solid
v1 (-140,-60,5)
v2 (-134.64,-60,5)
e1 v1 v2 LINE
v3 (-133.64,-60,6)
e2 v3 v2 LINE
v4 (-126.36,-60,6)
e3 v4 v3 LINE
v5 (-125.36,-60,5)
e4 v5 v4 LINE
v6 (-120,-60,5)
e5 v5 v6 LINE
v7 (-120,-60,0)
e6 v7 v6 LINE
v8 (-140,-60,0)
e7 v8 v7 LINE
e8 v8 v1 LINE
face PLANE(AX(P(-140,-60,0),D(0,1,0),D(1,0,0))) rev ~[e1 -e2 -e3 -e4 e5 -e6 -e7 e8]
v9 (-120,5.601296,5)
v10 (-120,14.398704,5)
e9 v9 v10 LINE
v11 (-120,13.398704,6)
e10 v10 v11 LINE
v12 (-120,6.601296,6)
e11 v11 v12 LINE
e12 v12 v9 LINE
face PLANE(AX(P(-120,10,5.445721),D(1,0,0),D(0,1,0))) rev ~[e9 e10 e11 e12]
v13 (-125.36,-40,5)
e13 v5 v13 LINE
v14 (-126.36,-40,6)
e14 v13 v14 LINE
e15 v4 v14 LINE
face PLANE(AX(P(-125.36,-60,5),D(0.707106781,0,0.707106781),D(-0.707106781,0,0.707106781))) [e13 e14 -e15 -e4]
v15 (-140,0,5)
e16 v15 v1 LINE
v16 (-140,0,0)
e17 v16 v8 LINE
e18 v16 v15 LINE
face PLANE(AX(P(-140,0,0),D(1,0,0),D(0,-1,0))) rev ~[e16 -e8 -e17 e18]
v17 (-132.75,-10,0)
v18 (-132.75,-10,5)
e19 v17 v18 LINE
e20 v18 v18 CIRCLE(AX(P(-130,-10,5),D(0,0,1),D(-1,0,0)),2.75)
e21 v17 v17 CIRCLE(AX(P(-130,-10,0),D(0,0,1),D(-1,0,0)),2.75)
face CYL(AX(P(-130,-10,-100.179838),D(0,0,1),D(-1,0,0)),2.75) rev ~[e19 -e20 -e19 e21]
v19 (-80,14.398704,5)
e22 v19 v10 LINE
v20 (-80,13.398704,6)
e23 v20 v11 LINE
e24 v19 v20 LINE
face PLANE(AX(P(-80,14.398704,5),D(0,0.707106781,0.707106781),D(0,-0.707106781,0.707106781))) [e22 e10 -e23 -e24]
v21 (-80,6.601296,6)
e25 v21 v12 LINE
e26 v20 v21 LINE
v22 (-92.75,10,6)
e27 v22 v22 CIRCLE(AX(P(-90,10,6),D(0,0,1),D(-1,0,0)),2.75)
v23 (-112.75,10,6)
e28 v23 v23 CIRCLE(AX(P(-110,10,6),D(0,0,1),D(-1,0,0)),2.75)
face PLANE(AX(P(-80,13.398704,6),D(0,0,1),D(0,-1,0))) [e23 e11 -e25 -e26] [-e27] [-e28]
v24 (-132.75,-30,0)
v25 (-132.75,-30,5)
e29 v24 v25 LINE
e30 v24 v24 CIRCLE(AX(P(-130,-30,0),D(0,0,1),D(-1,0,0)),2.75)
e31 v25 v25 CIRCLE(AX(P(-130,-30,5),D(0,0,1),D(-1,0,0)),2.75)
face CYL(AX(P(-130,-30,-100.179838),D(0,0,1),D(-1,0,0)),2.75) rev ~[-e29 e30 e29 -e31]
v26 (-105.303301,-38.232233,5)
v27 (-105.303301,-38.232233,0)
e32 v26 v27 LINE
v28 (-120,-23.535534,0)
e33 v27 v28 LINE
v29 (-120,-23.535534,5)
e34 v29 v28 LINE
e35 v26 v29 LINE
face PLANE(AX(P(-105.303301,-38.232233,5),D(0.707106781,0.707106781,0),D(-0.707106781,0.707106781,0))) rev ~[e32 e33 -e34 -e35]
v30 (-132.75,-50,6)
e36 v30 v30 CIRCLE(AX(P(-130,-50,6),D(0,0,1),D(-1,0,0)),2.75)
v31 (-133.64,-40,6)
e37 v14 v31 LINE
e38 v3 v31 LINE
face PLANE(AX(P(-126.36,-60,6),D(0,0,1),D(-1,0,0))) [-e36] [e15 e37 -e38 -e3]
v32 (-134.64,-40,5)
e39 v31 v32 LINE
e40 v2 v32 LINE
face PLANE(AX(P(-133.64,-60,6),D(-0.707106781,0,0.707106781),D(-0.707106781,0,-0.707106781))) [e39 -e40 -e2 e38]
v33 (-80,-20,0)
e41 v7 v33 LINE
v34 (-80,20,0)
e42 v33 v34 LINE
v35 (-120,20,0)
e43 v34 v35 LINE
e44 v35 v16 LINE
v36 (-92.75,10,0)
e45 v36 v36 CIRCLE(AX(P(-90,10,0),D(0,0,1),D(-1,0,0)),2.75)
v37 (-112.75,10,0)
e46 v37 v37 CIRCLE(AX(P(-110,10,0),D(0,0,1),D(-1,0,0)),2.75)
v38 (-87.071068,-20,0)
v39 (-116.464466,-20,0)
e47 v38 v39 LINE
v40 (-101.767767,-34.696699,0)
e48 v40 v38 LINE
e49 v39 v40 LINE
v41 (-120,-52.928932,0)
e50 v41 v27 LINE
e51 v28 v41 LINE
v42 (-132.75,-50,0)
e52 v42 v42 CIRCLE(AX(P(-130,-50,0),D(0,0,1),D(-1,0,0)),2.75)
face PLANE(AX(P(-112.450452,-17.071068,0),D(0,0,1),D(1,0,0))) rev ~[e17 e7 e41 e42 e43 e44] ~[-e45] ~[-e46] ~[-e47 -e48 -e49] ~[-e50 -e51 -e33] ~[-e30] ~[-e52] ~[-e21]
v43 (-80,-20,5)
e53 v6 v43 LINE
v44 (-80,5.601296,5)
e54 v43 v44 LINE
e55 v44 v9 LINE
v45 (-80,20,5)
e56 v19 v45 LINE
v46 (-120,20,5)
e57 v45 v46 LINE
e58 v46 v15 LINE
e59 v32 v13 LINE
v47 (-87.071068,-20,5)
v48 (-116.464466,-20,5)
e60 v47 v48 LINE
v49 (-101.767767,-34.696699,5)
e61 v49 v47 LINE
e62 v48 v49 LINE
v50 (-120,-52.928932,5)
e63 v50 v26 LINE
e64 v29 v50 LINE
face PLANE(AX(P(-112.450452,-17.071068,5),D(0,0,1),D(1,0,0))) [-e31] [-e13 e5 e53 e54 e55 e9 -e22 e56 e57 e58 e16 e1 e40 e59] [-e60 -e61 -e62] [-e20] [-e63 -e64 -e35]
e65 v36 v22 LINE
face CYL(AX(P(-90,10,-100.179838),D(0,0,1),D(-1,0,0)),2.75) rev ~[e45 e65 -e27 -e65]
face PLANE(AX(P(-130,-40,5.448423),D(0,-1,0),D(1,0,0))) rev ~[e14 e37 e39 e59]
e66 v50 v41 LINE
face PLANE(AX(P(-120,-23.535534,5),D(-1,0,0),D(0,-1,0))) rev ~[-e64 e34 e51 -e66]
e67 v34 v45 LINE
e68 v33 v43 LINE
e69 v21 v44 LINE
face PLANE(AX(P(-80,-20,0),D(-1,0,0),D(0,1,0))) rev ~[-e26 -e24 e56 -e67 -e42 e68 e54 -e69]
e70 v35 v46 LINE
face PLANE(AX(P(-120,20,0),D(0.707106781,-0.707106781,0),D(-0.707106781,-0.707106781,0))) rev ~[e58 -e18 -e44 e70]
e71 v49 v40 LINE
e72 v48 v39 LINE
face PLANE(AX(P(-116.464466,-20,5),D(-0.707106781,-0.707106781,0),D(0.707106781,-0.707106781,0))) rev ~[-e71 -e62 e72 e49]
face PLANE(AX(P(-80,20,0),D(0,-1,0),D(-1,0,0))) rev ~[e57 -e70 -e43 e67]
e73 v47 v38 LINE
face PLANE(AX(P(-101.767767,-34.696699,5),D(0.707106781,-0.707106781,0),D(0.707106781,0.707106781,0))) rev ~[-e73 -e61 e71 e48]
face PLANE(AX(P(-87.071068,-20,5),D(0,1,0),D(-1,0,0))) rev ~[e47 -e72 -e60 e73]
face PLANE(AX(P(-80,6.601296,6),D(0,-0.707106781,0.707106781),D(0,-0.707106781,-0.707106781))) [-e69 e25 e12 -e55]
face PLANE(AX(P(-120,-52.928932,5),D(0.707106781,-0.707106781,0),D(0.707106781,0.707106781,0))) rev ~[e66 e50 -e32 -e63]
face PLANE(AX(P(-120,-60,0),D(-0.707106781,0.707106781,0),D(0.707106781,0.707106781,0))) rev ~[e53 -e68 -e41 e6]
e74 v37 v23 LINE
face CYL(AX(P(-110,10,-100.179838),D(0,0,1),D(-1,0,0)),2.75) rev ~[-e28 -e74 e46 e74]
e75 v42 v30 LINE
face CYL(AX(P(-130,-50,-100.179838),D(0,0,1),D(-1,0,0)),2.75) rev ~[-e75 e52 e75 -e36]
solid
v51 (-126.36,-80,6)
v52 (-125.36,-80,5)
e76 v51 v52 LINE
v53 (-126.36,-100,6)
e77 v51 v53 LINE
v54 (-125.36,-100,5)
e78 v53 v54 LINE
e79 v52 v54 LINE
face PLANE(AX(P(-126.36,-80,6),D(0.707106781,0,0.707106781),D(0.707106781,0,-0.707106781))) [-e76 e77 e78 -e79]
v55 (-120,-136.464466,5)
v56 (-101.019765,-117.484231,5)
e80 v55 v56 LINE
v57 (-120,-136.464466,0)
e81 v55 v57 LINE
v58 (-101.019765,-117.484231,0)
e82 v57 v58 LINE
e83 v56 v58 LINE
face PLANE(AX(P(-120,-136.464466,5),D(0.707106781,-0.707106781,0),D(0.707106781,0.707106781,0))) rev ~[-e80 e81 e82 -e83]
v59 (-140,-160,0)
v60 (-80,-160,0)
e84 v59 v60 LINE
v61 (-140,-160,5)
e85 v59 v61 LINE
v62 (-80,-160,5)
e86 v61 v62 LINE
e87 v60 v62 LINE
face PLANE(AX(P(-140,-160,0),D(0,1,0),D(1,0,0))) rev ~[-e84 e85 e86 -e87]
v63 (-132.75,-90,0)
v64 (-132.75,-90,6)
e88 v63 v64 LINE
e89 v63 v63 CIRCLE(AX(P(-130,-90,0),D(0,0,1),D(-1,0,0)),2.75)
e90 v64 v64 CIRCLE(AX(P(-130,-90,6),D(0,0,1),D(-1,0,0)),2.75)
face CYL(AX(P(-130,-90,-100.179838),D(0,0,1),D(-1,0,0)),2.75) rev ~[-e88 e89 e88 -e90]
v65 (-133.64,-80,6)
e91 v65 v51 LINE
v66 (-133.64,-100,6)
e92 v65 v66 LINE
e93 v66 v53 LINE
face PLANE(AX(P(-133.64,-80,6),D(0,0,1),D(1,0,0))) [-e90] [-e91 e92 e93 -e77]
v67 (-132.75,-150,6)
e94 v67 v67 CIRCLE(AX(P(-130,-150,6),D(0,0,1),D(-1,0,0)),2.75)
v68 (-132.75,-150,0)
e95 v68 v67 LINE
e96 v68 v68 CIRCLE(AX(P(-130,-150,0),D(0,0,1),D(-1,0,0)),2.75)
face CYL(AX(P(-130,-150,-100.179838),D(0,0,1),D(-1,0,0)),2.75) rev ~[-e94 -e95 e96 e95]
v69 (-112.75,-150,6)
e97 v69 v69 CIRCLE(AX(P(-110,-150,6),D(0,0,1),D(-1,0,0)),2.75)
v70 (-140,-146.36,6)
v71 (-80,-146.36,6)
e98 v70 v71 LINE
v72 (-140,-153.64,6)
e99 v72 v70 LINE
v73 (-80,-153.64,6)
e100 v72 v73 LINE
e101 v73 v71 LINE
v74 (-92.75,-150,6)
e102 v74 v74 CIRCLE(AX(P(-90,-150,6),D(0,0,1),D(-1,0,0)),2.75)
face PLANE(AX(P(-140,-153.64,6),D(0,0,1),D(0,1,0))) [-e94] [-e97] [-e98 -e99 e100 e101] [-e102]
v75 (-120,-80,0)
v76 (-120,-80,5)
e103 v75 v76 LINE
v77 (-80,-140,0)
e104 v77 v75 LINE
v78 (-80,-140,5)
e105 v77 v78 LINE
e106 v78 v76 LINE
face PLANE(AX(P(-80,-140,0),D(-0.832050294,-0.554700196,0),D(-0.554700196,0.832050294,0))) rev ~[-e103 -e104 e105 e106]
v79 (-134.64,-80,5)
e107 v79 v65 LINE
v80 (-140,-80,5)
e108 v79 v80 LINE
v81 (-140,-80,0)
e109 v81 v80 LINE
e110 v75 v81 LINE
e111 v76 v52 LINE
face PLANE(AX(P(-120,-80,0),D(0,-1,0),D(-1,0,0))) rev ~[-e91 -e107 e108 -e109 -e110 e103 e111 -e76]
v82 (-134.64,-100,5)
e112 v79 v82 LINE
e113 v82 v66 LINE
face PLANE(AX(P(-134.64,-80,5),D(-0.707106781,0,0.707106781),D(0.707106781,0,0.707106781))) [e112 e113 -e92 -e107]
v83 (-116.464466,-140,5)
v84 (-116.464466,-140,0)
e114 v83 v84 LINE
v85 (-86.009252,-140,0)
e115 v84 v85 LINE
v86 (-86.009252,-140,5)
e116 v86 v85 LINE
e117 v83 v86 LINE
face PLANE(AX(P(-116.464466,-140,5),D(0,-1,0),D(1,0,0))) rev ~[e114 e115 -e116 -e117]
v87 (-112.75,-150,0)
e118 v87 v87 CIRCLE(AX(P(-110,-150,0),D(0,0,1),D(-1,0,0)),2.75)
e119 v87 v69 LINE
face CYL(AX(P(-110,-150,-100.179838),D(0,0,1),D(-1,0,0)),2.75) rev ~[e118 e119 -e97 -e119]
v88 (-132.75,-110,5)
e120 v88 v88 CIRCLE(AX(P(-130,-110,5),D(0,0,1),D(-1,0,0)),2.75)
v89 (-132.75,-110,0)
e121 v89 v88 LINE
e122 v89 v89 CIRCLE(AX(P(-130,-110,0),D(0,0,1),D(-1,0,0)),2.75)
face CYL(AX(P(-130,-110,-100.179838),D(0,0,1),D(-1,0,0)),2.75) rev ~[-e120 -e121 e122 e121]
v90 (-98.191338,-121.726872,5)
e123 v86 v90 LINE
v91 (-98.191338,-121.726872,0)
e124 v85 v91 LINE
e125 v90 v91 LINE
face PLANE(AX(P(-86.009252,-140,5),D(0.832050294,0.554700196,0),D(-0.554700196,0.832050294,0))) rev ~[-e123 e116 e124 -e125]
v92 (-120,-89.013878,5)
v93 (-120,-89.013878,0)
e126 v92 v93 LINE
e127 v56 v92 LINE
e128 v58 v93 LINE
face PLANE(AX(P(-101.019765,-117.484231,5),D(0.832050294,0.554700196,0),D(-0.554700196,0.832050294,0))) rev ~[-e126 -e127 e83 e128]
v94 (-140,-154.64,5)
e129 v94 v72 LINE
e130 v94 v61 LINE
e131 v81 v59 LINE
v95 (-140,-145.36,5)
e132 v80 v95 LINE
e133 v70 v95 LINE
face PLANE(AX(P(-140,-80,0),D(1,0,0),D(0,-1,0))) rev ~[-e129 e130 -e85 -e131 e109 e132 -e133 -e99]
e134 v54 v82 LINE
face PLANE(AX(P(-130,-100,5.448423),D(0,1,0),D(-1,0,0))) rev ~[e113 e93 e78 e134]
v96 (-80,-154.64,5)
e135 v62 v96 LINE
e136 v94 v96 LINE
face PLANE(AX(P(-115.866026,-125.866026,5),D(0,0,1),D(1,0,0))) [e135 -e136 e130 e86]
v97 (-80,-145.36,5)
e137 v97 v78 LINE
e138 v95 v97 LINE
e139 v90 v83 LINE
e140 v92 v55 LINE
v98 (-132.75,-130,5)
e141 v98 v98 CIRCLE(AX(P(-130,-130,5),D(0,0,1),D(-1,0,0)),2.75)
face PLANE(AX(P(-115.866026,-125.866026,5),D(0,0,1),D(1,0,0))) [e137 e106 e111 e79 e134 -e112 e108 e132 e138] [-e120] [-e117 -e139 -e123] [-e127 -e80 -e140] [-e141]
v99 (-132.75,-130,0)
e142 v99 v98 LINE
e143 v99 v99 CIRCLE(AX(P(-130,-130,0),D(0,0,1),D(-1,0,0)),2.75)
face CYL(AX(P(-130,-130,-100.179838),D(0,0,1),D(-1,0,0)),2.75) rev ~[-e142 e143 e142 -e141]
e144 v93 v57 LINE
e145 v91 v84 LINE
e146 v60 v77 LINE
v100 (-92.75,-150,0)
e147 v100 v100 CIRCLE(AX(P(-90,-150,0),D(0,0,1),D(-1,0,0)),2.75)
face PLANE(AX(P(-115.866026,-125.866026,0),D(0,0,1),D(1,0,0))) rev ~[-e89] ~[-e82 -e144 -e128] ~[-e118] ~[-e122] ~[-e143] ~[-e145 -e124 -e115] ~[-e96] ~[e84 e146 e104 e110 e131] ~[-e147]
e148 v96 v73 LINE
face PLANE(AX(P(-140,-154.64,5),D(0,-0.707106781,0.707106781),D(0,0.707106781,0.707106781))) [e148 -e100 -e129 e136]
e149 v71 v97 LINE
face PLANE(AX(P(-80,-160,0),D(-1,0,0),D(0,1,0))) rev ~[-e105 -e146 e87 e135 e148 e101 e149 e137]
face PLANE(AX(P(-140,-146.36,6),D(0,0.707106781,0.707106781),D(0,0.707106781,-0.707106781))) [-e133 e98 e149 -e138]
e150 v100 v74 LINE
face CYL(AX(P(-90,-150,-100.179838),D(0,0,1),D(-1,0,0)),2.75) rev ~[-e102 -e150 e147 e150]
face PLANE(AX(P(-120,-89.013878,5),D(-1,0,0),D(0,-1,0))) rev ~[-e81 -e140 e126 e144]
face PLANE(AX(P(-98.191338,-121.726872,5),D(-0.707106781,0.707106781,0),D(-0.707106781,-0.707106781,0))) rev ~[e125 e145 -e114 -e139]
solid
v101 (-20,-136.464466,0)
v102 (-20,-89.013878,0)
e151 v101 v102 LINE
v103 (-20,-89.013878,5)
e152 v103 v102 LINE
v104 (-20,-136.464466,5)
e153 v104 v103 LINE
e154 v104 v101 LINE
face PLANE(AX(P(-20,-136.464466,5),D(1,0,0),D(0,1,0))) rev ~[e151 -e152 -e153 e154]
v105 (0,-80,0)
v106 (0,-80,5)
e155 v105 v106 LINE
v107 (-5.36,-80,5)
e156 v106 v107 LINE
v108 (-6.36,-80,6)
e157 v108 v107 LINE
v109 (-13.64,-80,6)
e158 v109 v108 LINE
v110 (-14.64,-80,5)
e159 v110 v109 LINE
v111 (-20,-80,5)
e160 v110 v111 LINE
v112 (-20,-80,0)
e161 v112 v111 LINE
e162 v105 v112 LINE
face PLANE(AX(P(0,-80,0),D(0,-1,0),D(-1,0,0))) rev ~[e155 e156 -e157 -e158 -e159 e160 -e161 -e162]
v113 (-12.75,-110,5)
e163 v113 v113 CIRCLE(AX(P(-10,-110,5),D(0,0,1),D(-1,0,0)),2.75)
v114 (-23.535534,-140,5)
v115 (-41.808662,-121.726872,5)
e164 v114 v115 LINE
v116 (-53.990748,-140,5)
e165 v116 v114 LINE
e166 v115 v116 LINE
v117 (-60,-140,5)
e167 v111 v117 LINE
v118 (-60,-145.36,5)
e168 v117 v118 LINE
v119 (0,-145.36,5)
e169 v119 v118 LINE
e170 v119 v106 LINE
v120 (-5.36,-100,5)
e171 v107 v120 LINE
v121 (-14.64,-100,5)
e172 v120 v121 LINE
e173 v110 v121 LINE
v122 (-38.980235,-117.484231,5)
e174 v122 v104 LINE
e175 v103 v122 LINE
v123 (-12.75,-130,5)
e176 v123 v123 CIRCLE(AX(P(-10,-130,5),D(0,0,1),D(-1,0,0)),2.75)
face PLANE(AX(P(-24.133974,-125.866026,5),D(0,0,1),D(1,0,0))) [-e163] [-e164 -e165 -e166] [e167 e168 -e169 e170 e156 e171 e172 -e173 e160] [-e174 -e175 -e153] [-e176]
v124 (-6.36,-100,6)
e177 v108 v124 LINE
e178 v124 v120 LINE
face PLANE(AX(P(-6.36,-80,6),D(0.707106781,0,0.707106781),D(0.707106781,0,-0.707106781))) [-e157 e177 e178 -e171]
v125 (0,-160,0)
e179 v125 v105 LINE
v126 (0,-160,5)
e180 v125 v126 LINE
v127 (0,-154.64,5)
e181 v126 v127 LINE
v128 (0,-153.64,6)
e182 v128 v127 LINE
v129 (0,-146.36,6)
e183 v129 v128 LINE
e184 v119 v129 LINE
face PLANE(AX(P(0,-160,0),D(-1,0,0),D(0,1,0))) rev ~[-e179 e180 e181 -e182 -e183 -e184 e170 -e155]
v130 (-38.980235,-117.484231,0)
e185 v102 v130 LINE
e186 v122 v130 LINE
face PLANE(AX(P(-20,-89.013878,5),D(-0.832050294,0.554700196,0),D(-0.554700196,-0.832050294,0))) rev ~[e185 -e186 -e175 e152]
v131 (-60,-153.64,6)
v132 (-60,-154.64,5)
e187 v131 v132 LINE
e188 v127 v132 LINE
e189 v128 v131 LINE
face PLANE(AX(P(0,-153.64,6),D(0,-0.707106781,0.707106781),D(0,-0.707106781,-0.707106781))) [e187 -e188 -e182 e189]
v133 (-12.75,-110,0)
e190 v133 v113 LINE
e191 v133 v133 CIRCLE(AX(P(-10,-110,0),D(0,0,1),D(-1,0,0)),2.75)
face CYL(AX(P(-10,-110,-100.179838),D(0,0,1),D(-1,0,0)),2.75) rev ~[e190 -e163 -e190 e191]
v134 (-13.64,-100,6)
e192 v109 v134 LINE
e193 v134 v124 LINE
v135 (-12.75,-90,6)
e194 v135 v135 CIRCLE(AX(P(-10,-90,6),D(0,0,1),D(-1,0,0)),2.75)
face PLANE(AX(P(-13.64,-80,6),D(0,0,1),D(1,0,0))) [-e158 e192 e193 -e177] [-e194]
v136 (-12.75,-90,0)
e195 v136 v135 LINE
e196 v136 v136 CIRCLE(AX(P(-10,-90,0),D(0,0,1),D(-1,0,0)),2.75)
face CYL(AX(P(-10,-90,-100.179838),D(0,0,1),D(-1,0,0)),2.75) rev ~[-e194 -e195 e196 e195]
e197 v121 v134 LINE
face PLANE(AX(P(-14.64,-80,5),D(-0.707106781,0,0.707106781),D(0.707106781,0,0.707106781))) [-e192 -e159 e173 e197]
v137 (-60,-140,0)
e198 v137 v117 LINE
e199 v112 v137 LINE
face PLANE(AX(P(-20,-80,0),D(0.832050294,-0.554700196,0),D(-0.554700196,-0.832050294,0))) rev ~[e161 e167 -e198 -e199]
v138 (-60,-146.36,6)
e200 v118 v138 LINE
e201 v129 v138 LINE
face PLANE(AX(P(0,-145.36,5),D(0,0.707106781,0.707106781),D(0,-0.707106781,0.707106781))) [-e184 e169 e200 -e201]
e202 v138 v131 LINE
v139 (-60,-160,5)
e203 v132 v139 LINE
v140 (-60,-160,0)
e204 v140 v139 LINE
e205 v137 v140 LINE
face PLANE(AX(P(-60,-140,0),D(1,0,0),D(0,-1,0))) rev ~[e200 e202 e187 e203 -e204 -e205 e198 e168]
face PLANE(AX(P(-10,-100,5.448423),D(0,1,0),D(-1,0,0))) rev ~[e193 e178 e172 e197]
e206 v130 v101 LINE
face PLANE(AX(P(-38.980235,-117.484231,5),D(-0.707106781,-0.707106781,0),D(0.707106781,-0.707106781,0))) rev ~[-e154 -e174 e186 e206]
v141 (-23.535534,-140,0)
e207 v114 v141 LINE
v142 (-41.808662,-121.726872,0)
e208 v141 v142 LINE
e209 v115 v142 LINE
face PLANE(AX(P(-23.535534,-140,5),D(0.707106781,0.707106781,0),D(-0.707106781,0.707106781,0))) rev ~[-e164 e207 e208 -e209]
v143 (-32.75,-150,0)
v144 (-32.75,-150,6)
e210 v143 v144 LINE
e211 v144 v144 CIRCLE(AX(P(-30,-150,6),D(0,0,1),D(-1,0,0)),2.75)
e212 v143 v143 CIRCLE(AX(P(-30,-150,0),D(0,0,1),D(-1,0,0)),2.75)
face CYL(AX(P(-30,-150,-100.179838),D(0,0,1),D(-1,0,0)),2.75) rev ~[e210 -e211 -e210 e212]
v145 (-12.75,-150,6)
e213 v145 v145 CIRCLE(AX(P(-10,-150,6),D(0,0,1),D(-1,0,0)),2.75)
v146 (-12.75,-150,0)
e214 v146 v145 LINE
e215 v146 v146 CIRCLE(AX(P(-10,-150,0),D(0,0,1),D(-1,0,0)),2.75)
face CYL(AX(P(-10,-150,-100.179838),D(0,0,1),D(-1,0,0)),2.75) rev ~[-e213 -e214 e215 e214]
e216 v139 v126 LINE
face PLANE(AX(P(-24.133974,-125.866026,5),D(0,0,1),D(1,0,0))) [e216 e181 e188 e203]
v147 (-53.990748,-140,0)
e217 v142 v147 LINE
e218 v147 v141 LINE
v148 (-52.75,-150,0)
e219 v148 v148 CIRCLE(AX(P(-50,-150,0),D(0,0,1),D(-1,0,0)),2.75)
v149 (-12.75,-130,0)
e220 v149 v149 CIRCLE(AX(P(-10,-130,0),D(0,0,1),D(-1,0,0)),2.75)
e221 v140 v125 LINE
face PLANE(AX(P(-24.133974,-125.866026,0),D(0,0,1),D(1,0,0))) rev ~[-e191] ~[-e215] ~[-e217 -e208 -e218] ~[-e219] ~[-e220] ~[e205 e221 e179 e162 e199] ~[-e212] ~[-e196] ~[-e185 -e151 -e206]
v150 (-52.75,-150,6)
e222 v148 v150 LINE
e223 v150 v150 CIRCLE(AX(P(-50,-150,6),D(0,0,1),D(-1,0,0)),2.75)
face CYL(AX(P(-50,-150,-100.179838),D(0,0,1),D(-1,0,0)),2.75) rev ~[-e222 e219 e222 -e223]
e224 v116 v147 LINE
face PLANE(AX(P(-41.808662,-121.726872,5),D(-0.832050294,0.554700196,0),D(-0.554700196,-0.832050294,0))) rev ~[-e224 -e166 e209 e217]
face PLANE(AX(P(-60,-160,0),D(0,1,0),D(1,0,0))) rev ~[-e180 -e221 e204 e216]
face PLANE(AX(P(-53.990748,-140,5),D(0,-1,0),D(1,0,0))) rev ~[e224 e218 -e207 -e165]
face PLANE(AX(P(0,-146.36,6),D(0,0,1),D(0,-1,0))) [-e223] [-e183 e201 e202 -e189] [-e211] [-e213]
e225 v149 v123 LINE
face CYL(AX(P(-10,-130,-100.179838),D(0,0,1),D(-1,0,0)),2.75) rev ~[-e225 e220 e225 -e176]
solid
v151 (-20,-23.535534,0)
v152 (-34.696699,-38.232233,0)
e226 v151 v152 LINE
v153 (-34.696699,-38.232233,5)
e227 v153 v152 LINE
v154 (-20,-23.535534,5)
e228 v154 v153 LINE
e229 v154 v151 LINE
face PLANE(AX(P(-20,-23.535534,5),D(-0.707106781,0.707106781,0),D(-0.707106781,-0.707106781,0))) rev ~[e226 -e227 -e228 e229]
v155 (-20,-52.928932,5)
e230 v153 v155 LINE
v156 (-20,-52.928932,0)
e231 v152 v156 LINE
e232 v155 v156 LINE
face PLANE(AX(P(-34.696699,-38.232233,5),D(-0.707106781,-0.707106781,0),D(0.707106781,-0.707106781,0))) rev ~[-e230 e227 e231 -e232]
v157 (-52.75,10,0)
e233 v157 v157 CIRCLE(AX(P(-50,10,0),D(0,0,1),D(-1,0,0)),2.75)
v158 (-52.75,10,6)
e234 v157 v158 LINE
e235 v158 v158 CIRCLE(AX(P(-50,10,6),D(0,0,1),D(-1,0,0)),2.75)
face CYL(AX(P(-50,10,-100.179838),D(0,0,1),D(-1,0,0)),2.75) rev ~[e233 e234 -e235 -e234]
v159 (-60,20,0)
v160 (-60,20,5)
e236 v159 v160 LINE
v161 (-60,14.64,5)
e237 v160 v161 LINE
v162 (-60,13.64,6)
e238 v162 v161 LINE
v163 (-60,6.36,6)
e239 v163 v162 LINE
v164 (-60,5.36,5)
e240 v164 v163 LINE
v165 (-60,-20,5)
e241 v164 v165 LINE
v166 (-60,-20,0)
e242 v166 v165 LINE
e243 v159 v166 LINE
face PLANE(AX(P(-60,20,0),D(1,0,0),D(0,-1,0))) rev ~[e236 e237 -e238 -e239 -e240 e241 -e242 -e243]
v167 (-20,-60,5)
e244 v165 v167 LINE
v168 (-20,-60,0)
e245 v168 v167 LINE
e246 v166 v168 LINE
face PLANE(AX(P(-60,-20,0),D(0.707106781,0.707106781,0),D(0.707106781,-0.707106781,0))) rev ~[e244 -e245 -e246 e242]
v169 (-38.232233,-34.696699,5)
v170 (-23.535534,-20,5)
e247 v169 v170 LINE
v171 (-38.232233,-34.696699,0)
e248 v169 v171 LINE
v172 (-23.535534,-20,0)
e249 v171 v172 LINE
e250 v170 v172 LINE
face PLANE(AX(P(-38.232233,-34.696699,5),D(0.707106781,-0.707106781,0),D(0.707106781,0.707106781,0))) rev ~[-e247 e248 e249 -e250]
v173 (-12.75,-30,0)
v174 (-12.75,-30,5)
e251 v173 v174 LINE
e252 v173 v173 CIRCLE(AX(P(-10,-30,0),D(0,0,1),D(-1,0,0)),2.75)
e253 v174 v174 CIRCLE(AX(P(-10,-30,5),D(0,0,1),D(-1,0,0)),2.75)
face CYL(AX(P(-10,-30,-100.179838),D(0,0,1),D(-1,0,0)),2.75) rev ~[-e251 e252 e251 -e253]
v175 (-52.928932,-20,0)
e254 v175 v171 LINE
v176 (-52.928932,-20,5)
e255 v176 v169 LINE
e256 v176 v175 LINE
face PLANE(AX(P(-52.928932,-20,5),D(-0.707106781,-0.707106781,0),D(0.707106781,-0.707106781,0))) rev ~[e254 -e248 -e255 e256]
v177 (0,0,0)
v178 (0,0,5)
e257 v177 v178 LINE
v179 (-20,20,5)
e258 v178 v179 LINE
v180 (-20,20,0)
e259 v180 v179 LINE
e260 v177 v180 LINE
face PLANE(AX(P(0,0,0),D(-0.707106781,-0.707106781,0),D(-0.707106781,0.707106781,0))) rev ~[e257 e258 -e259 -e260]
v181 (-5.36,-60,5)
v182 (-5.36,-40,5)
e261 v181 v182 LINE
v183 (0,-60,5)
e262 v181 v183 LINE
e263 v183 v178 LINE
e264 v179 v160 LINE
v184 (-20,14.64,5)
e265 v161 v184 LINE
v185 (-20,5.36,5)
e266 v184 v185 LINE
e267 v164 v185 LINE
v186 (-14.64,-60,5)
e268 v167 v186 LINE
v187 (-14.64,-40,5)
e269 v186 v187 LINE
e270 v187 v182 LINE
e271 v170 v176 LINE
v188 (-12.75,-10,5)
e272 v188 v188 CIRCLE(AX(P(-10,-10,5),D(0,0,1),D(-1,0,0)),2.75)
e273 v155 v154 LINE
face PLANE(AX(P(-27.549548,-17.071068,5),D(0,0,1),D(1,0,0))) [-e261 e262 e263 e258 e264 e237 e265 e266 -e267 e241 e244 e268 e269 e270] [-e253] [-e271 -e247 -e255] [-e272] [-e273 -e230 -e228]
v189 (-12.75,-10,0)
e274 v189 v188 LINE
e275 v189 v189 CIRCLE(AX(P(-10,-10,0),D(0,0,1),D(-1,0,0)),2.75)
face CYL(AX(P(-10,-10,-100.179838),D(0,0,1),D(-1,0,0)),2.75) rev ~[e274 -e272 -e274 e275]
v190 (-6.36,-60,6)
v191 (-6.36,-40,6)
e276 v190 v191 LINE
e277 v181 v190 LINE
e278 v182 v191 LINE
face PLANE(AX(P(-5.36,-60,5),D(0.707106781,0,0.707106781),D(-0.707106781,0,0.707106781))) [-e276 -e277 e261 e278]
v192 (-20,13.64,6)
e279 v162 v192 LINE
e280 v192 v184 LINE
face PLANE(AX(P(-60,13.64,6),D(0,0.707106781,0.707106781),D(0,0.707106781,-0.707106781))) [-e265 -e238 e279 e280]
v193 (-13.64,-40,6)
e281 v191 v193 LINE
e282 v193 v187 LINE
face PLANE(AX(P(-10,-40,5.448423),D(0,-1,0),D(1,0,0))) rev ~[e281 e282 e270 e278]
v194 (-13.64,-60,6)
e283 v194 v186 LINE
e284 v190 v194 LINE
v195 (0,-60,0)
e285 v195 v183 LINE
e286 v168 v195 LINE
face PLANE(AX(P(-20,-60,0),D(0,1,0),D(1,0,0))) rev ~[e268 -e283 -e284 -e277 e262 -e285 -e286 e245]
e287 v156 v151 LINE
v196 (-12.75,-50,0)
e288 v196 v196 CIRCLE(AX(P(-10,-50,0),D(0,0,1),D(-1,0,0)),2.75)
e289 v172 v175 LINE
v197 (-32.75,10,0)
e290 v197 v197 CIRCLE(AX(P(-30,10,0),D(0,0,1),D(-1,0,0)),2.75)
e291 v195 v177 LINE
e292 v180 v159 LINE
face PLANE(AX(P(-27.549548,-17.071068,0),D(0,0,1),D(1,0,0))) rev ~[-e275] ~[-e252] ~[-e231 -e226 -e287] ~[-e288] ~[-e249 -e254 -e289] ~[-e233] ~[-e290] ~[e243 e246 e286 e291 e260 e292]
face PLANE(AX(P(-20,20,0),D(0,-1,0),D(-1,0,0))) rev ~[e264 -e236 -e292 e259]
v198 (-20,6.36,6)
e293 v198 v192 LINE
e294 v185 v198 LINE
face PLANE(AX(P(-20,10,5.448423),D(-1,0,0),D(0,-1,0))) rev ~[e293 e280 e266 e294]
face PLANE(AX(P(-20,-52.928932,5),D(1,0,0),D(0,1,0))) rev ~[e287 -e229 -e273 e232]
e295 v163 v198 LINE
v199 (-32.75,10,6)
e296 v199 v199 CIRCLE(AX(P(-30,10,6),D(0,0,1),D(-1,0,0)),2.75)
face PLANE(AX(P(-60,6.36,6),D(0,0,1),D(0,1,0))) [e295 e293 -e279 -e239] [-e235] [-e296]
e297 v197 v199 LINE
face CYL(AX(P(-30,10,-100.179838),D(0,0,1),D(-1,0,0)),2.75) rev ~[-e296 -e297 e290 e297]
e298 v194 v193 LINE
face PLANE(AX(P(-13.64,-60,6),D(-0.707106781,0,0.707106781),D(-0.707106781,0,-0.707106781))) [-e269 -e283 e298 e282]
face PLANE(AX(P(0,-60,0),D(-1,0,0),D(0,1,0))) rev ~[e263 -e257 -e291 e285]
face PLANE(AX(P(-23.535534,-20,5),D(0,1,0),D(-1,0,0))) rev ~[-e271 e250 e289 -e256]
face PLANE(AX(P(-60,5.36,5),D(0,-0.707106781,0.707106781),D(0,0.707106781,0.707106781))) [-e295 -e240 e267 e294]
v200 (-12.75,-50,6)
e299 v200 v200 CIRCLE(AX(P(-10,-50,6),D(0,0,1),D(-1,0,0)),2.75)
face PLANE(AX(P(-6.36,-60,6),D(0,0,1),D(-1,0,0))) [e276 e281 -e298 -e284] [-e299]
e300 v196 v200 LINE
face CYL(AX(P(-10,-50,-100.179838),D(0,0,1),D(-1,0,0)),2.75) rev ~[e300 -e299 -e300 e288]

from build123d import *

# Parameters (mm, degrees)
F1_DEPTH  = 5
F3_DEPTH  = 5.001
F5_DEPTH  = 20
F7_DEPTH  = 40
F9_DEPTH  = 20
F11_DEPTH = 60
F13_DEPTH = 25
F15_DEPTH = 60
F17_DEPTH = 20
F19_DEPTH = 20
F21_DEPTH = 40
F22_D     = 5.5
F22_2_D   = 5.5
F22_3_D   = 5.5
F22_4_D   = 5.5
F24_DEPTH = 5.001
F26_DEPTH = 5.001


with BuildPart() as f1:
    # F0 (on Top) → F1 (new body)
    with BuildSketch(Plane.XY):
        Polygon((-20, -60), (0, -60), (0, 0), (-20, 20), (-60, 20), (-60, 0), (-60, -20), align=None)
    extrude(amount=F1_DEPTH)

    # F2 (on face) → F3 (cut, through all)
    with BuildSketch(Plane.XY.offset(5)):
        Polygon((-38.232233047, -34.6966991411), (-23.5355339059, -20), (-52.9289321881, -20), align=None)
        Polygon((-20, -52.9289321881), (-20, -23.5355339059), (-34.6966991411, -38.232233047), align=None)
    extrude(amount=-F3_DEPTH, mode=Mode.SUBTRACT)

    # F4 (on face) → F5 (join)
    with BuildSketch(Plane.XZ.offset(60)):
        Polygon((-13.64, 6), (-14.64, 5), (-5.36, 5), (-6.36, 6), align=None)
    extrude(amount=-F5_DEPTH)

    # F6 (on face) → F7 (join)
    with BuildSketch(Plane(origin=(-60, 0, 0), x_dir=(0, -1, 0), z_dir=(-1, 0, 0))):
        Polygon((-13.64, 6), (-14.64, 5), (-5.36, 5), (-6.36, 6), align=None)
    extrude(amount=-F7_DEPTH)

    # F22 (through all)
    with Locations(Plane(origin=(0, 0, 0), x_dir=(1, 0, 0), z_dir=(0, 0, -1))):
        with Locations((-110, -10), (-90, -10), (-50, -10), (-30, -10), (-130, 10), (-10, 10), (-10, 30), (-10, 50), (-130, 50), (-130, 30), (-130, 130), (-130, 110), (-130, 90), (-10, 130), (-10, 110), (-10, 90), (-130, 150), (-110, 150), (-90, 150), (-50, 150), (-30, 150), (-10, 150)):
            Hole(F22_D / 2)


with BuildPart() as f1b:
    # F0 (on Top) → F1, piece 2 (new body)
    with BuildSketch(Plane.XY):
        Polygon((0, -160), (0, -80), (-20, -80), (-60, -140), (-60, -160), align=None)
    extrude(amount=F1_DEPTH)

    # F8 (on face) → F9 (join)
    with BuildSketch(Plane(origin=(0, -80, 0), x_dir=(-1, 0, 0), z_dir=(0, 1, 0))):
        Polygon((6.36, 6), (5.36, 5), (14.64, 5), (13.64, 6), align=None)
    extrude(amount=-F9_DEPTH)

    # F10 (on face) → F11 (join, through all)
    with BuildSketch(Plane.YZ):
        Polygon((-153.64, 6), (-154.64, 5), (-145.36, 5), (-146.36, 6), align=None)
    extrude(amount=-F11_DEPTH)

    # F12 (on face) → F13 (cut)
    with BuildSketch(Plane.XY.offset(5)):
        Polygon((-38.9802351622, -117.4842309319), (-20, -136.4644660941), (-20, -89.0138781887), align=None)
        Polygon((-41.8086622869, -121.726871619), (-53.9907478742, -140), (-23.5355339059, -140), align=None)
    extrude(amount=-F13_DEPTH, mode=Mode.SUBTRACT)

    # F22#2 (through all)
    with Locations(Plane(origin=(0, 0, 0), x_dir=(1, 0, 0), z_dir=(0, 0, -1))):
        with Locations((-110, -10), (-90, -10), (-50, -10), (-30, -10), (-130, 10), (-10, 10), (-10, 30), (-10, 50), (-130, 50), (-130, 30), (-130, 130), (-130, 110), (-130, 90), (-10, 130), (-10, 110), (-10, 90), (-130, 150), (-110, 150), (-90, 150), (-50, 150), (-30, 150), (-10, 150)):
            Hole(F22_2_D / 2)


with BuildPart() as f1c:
    # F0 (on Top) → F1, piece 3 (new body)
    with BuildSketch(Plane.XY):
        Polygon((-140, -60), (-120, -60), (-80, -20), (-80, 0), (-80, 20), (-120, 20), (-140, 0), align=None)
    extrude(amount=F1_DEPTH)

    # F18 (on face) → F19 (join)
    with BuildSketch(Plane.XZ.offset(60)):
        Polygon((-133.64, 6), (-134.64, 5), (-125.36, 5), (-126.36, 6), align=None)
    extrude(amount=-F19_DEPTH)

    # F20 (on face) → F21 (join)
    with BuildSketch(Plane.YZ.offset(-80)):
        Polygon((6.6012964097, 6), (5.6012964097, 5), (14.3987035903, 5), (13.3987035903, 6), align=None)
    extrude(amount=-F21_DEPTH)

    # F22#3 (through all)
    with Locations(Plane(origin=(0, 0, 0), x_dir=(1, 0, 0), z_dir=(0, 0, -1))):
        with Locations((-110, -10), (-90, -10), (-50, -10), (-30, -10), (-130, 10), (-10, 10), (-10, 30), (-10, 50), (-130, 50), (-130, 30), (-130, 130), (-130, 110), (-130, 90), (-10, 130), (-10, 110), (-10, 90), (-130, 150), (-110, 150), (-90, 150), (-50, 150), (-30, 150), (-10, 150)):
            Hole(F22_3_D / 2)

    # F23 (on face) → F24 (cut, through all)
    with BuildSketch(Plane.XY.offset(5)):
        Polygon((-120, -23.5355339059), (-120, -52.9289321881), (-105.3033008589, -38.232233047), align=None)
        Polygon((-116.4644660941, -20), (-101.767766953, -34.6966991411), (-87.0710678119, -20), align=None)
    extrude(amount=-F24_DEPTH, mode=Mode.SUBTRACT)


with BuildPart() as f1d:
    # F0 (on Top) → F1, piece 4 (new body)
    with BuildSketch(Plane.XY):
        Polygon((-140, -160), (-80, -160), (-80, -140), (-120, -80), (-140, -80), align=None)
    extrude(amount=F1_DEPTH)

    # F14 (on face) → F15 (join, through all)
    with BuildSketch(Plane(origin=(-140, 0, 0), x_dir=(0, -1, 0), z_dir=(-1, 0, 0))):
        Polygon((146.36, 6), (145.36, 5), (154.64, 5), (153.64, 6), align=None)
    extrude(amount=-F15_DEPTH)

    # F16 (on face) → F17 (join)
    with BuildSketch(Plane(origin=(0, -80, 0), x_dir=(-1, 0, 0), z_dir=(0, 1, 0))):
        Polygon((125.36, 5), (134.64, 5), (133.64, 6), (126.36, 6), align=None)
    extrude(amount=-F17_DEPTH)

    # F22#4 (through all)
    with Locations(Plane(origin=(0, 0, 0), x_dir=(1, 0, 0), z_dir=(0, 0, -1))):
        with Locations((-110, -10), (-90, -10), (-50, -10), (-30, -10), (-130, 10), (-10, 10), (-10, 30), (-10, 50), (-130, 50), (-130, 30), (-130, 130), (-130, 110), (-130, 90), (-10, 130), (-10, 110), (-10, 90), (-130, 150), (-110, 150), (-90, 150), (-50, 150), (-30, 150), (-10, 150)):
            Hole(F22_4_D / 2)

    # F25 (on face) → F26 (cut, through all)
    with BuildSketch(Plane.XY.offset(5)):
        Polygon((-120, -89.0138781887), (-120, -136.4644660941), (-101.0197648378, -117.4842309319), align=None)
        Polygon((-116.4644660941, -140), (-86.0092521258, -140), (-98.1913377131, -121.726871619), align=None)
    extrude(amount=-F26_DEPTH, mode=Mode.SUBTRACT)


solid = Compound([f1.part, f1b.part, f1c.part, f1d.part])
